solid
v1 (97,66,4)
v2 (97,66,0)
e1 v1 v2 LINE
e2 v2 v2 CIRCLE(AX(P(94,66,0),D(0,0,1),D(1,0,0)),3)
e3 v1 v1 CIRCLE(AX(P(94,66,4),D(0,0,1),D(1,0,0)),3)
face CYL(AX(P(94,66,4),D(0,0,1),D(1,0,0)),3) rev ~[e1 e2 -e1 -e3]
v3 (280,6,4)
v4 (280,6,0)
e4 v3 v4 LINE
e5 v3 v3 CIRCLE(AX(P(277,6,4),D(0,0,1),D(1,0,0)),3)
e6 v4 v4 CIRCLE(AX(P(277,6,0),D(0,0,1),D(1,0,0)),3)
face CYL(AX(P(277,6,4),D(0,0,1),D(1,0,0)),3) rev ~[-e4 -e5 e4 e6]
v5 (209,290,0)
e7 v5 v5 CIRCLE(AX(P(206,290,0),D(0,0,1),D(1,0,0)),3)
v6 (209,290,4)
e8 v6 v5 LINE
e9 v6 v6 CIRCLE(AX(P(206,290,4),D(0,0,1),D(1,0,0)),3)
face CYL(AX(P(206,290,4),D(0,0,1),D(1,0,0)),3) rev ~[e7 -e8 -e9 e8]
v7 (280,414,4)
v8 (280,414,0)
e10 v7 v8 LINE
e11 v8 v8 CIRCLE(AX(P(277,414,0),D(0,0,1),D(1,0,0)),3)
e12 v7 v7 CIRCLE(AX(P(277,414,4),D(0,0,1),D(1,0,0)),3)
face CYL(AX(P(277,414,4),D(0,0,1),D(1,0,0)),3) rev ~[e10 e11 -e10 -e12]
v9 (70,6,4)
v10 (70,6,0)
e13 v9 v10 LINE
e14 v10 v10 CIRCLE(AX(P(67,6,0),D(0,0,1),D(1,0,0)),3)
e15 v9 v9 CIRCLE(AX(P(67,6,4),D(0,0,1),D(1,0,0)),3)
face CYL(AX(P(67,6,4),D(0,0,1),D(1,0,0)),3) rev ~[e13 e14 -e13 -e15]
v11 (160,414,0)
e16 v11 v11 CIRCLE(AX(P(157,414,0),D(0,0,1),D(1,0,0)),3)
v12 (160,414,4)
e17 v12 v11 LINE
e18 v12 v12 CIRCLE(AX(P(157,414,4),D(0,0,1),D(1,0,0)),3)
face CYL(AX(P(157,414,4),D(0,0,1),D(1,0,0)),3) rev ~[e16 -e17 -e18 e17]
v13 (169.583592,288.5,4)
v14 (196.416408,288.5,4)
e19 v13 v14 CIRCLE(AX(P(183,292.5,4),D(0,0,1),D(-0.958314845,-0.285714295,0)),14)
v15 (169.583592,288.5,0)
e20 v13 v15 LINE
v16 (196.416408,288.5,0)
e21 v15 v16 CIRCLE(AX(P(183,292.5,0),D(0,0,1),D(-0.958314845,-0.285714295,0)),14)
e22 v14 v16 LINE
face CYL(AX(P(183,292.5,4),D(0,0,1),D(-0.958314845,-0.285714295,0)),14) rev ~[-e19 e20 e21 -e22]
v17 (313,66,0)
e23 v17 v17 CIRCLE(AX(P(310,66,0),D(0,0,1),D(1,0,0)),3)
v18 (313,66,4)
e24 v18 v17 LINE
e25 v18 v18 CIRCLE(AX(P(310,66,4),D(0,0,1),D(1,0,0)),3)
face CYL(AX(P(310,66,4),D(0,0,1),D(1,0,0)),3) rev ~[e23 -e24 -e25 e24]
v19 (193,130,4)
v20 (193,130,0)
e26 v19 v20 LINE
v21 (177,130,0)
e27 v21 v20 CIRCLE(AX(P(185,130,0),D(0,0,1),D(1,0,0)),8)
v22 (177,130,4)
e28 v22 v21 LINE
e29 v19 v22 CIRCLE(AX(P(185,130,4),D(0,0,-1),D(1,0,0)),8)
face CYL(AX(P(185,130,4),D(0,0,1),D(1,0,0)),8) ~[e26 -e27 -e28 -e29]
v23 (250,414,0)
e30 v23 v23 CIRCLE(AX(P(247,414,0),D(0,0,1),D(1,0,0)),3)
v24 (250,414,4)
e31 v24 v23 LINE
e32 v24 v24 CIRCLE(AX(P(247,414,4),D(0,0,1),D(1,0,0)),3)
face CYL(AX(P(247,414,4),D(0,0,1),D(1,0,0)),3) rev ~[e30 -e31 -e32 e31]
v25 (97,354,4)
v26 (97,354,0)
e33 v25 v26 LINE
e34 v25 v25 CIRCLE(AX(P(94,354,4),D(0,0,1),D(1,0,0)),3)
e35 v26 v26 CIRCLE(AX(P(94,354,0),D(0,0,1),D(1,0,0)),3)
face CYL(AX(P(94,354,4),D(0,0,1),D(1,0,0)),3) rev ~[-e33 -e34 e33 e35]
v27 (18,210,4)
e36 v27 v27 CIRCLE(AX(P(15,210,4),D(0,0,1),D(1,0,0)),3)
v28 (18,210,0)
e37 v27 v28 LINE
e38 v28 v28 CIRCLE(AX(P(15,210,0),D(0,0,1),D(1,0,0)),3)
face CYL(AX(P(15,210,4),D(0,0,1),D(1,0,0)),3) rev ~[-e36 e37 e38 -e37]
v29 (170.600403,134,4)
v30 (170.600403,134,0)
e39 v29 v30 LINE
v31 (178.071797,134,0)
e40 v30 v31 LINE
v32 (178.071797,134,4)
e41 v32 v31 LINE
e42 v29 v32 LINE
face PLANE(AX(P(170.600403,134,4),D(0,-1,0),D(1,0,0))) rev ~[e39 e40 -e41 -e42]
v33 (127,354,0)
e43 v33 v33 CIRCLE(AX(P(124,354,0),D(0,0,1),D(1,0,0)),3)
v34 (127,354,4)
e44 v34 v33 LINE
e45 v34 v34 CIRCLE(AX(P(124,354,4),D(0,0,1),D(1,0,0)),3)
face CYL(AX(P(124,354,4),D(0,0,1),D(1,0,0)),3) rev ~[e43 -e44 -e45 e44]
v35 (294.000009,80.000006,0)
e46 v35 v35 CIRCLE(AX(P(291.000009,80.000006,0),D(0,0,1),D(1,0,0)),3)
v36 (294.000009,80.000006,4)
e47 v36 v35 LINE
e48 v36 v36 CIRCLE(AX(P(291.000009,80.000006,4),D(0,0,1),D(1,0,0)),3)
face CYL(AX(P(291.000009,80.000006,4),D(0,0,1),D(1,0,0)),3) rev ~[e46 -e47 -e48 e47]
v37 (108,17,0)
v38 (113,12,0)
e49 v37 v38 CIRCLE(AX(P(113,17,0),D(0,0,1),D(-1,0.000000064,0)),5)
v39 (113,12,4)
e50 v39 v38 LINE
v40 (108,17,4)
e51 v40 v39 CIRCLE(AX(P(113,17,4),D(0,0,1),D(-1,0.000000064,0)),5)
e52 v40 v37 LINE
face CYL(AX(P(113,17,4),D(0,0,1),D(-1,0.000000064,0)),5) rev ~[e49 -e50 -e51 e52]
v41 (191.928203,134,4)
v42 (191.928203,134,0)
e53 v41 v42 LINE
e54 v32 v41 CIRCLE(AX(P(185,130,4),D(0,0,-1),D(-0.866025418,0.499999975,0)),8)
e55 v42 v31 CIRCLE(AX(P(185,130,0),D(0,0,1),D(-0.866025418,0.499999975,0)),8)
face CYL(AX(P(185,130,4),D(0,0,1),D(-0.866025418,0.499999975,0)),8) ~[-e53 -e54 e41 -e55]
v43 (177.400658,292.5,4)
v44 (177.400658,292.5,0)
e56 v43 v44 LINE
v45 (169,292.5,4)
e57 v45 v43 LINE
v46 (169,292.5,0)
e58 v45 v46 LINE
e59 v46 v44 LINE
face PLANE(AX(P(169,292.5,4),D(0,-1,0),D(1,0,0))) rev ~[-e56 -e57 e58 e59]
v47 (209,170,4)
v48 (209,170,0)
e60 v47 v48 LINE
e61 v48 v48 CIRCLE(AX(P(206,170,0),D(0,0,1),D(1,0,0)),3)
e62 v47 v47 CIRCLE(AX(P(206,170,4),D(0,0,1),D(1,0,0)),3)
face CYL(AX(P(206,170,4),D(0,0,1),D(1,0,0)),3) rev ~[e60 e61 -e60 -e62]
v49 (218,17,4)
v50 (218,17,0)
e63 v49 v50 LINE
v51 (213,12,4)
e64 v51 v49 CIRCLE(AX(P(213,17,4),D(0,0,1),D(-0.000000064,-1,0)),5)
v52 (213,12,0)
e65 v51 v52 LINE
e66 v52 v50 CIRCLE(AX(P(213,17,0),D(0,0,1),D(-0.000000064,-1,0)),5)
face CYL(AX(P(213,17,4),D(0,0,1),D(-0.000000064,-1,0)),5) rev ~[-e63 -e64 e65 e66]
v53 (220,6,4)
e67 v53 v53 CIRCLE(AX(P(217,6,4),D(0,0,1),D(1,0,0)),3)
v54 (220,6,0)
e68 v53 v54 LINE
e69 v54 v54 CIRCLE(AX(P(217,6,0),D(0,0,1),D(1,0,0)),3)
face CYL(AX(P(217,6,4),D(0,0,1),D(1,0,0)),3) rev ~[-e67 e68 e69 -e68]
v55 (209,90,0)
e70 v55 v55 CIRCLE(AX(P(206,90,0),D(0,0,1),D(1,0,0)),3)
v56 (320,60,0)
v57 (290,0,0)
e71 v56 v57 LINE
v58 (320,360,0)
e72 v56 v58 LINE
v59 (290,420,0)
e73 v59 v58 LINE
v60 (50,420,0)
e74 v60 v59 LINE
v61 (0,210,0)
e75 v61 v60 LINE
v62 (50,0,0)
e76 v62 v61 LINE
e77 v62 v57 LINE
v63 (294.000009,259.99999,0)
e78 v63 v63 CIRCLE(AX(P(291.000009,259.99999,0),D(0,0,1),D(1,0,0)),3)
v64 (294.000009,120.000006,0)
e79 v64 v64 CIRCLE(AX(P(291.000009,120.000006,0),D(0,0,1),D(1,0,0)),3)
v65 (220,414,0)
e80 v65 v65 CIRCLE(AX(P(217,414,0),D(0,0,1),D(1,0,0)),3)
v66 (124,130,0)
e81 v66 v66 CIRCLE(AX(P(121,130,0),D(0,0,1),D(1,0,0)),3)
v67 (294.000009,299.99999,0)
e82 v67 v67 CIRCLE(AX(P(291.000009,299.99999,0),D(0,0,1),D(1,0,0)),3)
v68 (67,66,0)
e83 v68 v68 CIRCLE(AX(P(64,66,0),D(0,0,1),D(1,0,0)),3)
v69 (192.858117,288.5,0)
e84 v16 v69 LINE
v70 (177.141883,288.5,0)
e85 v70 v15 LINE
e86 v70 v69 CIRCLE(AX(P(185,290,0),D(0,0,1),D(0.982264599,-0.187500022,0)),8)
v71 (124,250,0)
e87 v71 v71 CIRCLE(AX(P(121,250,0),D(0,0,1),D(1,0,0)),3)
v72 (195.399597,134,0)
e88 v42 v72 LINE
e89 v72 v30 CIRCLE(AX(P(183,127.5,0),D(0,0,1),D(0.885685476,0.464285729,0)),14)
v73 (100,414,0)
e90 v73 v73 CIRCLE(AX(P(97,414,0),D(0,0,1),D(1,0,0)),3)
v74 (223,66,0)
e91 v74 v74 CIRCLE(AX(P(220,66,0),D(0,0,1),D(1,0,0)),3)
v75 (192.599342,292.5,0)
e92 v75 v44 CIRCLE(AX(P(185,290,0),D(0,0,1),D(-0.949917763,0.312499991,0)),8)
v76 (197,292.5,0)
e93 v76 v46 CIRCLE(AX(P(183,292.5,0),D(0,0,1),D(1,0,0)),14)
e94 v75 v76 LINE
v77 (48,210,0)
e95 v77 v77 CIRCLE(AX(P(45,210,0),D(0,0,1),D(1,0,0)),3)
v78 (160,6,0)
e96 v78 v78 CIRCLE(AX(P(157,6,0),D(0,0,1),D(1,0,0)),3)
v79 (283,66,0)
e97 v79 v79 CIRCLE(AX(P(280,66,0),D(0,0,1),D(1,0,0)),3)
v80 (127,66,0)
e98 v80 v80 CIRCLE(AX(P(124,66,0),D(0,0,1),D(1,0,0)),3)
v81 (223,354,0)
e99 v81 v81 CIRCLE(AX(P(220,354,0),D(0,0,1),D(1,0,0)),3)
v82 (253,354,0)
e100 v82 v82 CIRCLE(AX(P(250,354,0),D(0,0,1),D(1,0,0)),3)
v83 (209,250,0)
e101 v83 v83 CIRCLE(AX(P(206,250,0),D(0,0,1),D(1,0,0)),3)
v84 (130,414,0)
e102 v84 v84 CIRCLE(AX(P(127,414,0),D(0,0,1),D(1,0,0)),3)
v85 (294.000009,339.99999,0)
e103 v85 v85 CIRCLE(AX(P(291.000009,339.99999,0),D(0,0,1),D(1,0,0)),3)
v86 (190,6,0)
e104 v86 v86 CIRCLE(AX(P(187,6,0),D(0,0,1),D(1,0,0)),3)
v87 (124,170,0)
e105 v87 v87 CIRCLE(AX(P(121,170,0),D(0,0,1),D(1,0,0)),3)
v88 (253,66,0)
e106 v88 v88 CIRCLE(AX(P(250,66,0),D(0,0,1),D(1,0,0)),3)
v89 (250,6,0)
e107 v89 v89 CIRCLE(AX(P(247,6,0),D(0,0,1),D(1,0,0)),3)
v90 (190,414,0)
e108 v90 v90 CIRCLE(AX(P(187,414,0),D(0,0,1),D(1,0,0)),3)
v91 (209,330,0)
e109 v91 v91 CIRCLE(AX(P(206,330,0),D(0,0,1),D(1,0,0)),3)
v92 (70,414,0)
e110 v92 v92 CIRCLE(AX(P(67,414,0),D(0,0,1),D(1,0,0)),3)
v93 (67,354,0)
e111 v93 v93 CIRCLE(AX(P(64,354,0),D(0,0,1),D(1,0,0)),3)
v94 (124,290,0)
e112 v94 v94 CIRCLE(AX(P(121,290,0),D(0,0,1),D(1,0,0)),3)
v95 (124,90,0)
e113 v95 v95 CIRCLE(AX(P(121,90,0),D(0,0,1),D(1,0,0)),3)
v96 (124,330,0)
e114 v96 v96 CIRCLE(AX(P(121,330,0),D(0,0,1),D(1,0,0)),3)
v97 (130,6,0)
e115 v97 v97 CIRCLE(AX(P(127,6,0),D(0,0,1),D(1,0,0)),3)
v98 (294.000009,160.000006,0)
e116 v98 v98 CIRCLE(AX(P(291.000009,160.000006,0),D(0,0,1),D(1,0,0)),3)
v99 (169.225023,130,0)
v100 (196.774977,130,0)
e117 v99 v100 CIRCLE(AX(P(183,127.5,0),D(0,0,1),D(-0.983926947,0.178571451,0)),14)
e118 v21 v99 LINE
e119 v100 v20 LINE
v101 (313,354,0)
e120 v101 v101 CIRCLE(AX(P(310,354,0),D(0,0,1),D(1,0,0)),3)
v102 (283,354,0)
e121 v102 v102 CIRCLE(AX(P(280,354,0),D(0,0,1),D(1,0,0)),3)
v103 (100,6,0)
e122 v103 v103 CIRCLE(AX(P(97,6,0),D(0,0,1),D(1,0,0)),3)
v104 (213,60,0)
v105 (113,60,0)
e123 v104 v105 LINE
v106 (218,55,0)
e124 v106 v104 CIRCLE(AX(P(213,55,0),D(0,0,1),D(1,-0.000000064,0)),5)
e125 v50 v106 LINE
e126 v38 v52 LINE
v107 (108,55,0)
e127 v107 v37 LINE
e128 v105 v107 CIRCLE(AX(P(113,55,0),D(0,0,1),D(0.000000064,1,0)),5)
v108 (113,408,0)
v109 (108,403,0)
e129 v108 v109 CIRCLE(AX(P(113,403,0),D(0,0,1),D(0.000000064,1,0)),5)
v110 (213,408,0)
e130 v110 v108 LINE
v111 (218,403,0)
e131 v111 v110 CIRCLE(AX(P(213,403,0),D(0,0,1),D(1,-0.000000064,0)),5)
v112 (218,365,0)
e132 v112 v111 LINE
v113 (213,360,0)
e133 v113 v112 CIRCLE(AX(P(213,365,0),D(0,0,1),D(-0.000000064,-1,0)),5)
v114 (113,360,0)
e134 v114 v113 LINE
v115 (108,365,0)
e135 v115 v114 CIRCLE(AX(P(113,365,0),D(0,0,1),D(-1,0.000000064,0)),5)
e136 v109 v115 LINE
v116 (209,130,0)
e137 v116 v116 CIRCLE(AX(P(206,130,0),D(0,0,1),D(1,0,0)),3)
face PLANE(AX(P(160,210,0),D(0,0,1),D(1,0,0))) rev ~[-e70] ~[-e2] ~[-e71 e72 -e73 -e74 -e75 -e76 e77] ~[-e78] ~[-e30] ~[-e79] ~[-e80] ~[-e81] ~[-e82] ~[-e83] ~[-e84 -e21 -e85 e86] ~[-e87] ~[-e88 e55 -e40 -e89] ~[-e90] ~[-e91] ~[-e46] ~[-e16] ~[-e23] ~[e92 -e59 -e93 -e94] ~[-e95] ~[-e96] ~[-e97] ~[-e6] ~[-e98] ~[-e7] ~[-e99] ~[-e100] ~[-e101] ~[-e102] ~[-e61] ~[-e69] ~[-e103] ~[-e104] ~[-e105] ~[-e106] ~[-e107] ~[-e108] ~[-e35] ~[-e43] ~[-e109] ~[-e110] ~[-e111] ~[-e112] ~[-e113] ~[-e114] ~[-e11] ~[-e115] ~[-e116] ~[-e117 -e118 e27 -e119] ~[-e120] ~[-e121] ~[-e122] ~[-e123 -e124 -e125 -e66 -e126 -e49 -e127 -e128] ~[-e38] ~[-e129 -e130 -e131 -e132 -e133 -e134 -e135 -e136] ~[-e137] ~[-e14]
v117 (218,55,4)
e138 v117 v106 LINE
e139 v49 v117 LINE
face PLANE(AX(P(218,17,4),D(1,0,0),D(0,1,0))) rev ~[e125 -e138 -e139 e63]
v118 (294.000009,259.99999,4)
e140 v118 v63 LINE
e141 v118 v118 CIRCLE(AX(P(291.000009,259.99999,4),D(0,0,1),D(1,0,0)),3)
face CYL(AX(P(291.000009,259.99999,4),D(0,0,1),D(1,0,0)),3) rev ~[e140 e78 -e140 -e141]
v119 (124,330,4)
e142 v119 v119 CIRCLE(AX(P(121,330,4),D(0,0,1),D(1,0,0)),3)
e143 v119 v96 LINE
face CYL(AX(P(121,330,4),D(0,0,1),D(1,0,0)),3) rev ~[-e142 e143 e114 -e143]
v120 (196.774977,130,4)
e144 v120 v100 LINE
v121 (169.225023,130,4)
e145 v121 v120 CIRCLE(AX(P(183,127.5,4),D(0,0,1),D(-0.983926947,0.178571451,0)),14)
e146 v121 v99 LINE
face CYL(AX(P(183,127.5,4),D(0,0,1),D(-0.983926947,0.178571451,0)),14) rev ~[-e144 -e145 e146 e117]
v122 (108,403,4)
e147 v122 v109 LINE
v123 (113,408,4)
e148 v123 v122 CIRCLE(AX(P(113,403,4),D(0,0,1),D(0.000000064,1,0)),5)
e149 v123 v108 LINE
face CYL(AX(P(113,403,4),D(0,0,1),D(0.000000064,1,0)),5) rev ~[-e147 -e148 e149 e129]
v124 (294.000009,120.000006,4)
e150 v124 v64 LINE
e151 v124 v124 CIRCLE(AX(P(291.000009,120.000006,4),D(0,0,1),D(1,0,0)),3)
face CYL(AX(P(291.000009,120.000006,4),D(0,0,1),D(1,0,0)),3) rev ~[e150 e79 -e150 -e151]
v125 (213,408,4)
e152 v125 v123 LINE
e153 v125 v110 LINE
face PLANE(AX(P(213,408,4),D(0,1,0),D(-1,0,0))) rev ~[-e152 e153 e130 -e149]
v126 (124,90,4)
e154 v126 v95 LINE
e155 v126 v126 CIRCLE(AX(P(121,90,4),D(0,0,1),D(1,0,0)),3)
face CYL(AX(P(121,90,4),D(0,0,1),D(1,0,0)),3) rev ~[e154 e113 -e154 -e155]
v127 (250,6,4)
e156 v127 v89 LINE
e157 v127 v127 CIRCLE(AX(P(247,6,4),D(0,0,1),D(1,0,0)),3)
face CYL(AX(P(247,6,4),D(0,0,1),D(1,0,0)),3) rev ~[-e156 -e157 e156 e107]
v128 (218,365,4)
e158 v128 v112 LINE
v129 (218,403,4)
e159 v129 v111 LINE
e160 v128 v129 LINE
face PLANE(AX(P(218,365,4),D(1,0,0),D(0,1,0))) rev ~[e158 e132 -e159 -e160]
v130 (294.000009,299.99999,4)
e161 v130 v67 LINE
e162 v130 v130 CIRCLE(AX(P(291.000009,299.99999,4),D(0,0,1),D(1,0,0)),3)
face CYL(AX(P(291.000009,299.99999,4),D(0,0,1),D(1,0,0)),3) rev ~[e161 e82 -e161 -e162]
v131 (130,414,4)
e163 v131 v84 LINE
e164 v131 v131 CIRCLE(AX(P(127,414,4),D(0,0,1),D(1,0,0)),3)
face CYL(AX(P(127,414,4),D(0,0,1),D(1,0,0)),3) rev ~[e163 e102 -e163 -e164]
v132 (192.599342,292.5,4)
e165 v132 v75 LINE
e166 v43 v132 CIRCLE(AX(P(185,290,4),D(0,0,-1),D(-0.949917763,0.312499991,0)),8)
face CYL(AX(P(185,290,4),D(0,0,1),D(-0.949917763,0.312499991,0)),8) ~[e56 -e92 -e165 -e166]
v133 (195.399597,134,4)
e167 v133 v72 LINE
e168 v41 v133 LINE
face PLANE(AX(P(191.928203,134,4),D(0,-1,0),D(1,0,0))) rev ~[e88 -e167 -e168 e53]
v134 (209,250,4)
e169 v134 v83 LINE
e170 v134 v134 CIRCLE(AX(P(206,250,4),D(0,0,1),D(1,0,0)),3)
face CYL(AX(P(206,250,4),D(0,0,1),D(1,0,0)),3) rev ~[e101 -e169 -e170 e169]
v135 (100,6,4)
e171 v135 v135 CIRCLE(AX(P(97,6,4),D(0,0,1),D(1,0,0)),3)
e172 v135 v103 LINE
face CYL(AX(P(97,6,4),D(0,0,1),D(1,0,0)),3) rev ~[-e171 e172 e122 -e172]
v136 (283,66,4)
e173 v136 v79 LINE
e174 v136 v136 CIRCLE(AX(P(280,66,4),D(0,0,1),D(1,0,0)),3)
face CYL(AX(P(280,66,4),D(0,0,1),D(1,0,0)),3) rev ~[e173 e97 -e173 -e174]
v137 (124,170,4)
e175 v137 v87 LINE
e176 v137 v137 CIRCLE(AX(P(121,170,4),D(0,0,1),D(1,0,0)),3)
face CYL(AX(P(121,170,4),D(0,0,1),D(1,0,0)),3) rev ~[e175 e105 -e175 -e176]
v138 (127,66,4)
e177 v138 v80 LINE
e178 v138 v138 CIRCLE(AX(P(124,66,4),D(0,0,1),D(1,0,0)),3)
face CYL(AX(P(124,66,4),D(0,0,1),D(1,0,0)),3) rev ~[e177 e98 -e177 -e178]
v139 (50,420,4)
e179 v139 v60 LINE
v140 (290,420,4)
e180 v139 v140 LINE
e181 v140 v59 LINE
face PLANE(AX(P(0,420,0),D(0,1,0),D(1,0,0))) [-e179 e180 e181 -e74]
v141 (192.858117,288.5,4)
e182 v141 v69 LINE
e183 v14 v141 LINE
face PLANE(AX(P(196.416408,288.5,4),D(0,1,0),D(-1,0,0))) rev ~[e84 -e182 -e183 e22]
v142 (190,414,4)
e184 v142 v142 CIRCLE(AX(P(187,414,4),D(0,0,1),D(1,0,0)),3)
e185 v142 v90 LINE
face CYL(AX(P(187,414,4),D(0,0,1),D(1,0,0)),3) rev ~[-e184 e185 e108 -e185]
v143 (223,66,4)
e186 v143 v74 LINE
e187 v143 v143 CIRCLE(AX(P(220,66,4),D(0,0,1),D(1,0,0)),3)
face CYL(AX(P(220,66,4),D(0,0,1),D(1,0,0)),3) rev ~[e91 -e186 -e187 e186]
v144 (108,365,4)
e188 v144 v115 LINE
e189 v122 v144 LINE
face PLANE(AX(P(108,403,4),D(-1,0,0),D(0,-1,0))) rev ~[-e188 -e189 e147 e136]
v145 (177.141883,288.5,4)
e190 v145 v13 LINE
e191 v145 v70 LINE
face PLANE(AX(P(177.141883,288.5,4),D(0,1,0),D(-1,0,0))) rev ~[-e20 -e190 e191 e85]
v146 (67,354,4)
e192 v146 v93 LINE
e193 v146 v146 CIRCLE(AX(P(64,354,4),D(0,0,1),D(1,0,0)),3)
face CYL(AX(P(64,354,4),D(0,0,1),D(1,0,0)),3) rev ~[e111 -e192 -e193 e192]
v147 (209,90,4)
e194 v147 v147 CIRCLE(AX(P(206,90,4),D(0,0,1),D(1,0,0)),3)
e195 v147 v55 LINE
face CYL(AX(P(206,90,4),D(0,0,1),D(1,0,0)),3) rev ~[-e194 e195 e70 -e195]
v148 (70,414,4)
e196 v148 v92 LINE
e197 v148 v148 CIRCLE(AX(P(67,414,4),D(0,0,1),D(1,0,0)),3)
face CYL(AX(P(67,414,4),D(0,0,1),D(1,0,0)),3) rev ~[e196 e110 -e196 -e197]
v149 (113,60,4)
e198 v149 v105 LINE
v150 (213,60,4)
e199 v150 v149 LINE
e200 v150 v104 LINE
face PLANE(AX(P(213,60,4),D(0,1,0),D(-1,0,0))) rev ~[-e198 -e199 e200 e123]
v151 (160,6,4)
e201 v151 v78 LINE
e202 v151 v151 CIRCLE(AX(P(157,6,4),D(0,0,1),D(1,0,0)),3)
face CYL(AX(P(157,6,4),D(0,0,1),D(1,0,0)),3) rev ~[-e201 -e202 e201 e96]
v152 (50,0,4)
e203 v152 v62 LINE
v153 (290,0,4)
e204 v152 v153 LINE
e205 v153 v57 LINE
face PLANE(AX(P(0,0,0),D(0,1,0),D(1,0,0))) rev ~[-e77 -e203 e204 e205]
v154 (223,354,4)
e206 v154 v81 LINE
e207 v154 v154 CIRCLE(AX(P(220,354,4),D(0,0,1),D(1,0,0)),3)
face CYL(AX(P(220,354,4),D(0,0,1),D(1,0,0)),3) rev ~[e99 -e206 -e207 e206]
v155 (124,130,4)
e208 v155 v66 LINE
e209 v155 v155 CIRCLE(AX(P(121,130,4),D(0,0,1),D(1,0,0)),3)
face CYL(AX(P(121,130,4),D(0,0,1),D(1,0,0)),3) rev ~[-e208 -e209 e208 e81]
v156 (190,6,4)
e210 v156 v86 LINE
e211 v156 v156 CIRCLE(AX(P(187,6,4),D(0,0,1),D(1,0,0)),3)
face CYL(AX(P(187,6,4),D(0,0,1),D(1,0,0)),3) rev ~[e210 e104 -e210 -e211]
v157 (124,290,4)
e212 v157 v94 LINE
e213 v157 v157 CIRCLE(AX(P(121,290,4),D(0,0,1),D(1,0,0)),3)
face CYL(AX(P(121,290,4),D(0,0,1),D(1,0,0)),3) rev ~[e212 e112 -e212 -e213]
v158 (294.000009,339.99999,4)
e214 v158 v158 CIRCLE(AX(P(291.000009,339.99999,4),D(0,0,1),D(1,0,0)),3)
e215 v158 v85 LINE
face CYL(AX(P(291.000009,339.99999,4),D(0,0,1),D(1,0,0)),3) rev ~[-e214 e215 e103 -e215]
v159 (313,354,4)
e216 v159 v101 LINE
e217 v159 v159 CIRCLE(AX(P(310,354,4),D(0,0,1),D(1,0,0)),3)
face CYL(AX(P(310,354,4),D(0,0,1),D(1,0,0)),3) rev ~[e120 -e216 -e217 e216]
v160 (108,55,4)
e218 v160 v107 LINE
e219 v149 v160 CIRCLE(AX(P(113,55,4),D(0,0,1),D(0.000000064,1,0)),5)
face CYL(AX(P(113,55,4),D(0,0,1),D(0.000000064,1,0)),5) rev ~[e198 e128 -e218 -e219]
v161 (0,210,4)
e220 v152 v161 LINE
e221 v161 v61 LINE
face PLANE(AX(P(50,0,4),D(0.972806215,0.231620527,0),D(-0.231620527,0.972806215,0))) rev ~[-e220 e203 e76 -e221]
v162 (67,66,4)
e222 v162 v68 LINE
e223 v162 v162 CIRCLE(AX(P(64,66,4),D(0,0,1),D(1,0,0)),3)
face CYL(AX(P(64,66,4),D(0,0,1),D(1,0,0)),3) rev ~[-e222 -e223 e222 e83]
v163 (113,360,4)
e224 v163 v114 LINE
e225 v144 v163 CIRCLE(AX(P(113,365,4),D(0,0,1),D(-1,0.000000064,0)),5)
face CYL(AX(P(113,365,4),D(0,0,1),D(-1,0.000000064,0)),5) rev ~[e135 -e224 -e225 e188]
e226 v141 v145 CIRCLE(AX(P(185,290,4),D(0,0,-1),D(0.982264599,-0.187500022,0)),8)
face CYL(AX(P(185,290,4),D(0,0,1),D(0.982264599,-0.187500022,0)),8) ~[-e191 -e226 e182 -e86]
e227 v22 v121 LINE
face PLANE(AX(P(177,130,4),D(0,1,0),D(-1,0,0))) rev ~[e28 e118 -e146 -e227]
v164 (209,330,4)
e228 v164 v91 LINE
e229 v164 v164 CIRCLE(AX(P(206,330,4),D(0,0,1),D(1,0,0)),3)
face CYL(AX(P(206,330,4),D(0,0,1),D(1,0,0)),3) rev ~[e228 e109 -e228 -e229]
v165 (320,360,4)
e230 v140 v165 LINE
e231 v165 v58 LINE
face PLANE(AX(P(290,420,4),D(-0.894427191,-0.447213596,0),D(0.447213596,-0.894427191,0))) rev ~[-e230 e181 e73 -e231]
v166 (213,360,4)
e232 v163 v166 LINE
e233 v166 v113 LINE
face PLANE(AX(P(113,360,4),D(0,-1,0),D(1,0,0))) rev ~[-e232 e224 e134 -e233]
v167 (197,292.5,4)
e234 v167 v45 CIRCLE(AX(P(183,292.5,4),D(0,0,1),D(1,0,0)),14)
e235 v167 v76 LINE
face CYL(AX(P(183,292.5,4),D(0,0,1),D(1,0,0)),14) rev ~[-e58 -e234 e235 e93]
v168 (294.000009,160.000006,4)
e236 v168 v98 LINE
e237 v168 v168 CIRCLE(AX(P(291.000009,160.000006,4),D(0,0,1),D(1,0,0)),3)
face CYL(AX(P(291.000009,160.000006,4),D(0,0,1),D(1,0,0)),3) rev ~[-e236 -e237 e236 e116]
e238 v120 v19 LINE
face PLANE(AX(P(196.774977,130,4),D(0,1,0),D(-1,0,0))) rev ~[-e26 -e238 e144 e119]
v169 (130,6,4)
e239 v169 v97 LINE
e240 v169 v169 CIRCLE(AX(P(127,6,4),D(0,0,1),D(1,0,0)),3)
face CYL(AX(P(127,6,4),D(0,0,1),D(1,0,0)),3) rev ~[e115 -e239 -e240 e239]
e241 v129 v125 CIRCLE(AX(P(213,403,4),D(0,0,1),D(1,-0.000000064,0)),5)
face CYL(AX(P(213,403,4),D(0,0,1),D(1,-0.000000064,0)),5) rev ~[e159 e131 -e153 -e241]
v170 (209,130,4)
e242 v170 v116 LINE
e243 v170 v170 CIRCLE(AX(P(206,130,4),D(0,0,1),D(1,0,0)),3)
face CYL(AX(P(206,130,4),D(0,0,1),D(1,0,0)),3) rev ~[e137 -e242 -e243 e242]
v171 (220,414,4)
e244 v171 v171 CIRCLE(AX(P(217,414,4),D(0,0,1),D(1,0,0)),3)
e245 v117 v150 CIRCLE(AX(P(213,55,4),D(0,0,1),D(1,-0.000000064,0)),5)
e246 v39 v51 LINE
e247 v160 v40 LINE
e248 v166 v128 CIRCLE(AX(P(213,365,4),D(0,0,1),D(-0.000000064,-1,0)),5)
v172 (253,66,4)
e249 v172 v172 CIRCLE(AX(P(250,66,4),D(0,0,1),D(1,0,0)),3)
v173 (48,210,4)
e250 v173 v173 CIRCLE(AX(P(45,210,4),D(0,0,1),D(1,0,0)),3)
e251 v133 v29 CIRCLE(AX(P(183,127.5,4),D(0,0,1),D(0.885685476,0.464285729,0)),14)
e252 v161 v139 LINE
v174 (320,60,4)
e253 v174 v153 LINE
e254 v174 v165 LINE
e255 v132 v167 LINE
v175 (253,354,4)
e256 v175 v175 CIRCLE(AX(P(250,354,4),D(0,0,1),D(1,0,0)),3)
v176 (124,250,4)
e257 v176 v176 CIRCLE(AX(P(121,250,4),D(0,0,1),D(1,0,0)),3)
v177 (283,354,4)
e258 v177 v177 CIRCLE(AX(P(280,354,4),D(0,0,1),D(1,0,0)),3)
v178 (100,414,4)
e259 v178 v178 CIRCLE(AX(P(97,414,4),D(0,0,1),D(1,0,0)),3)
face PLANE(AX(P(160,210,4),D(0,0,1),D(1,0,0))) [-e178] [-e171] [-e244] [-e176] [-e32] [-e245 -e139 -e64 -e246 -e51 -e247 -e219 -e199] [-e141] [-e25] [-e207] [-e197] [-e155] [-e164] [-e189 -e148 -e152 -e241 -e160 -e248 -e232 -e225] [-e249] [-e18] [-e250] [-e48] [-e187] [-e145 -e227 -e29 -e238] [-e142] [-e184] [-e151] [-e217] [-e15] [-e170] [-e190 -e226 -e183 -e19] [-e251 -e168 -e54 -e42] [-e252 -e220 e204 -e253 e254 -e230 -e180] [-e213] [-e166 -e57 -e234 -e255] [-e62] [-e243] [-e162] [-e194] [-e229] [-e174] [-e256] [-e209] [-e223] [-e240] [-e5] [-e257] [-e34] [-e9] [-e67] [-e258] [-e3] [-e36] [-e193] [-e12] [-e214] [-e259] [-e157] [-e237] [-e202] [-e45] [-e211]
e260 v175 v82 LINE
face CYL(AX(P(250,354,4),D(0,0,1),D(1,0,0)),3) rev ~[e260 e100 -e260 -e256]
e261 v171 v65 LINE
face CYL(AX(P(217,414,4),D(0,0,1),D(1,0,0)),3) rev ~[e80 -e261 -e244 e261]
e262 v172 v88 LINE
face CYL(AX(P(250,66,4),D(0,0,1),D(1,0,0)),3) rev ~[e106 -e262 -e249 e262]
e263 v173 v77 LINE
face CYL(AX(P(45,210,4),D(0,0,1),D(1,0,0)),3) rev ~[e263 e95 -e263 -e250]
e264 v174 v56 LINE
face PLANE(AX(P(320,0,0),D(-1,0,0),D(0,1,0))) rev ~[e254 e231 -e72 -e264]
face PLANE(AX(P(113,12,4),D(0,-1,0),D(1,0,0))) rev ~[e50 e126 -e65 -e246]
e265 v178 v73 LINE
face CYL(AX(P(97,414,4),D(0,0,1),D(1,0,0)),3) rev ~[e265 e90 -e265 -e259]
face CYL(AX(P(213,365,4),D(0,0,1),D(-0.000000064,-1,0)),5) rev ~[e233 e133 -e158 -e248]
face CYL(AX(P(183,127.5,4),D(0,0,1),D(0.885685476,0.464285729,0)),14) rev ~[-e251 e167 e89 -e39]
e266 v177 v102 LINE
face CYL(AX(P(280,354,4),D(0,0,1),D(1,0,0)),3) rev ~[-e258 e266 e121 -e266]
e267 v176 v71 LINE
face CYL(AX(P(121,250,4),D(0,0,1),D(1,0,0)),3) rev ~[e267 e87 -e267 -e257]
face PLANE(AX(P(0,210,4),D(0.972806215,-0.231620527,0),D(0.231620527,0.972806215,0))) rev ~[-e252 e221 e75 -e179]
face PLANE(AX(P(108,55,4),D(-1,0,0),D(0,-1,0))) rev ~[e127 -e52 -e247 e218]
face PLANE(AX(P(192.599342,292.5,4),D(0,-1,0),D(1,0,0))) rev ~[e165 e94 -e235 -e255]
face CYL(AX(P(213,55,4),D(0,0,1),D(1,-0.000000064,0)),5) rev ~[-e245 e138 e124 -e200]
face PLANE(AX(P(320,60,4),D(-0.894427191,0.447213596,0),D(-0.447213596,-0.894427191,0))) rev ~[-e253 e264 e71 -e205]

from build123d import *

# Parameters (mm, degrees)
F0_W      = 320
F0_H      = 420
F1_DEPTH  = 4
F3_DEPTH  = 4
F4_R      = 3
F5_DEPTH  = 25
F6_R      = 3
F7_DEPTH  = 25
F8_R      = 3
F9_DEPTH  = 25
F11_DEPTH = 25


with BuildPart() as f1:
    # F0 (on Top) → F1 (new body)
    with BuildSketch(Plane.XY):
        with Locations((160, 210)):
            Rectangle(F0_W, F0_H)
    extrude(amount=F1_DEPTH)

    # F2 (on face) → F3 (cut, through all)
    with BuildSketch(Plane.XY.offset(4)):
        Polygon((320, 420), (290, 420), (320, 360), align=None)
        Polygon((320, 60), (290, 0), (320, 0), align=None)
        with BuildLine():
            Line((113, 360), (213, 360))
            ThreePointArc((213, 360), (216.535534, 361.464466), (218, 365))
            Line((218, 365), (218, 403))
            ThreePointArc((218, 403), (216.535534, 406.535534), (213, 408))
            Line((213, 408), (113, 408))
            ThreePointArc((113, 408), (109.464466, 406.535534), (108, 403))
            Line((108, 403), (108, 365))
            ThreePointArc((108, 365), (109.464466, 361.464466), (113, 360))
        make_face()
        with BuildLine():
            Line((113, 12), (213, 12))
            ThreePointArc((213, 12), (216.535534, 13.464466), (218, 17))
            Line((218, 17), (218, 55))
            ThreePointArc((218, 55), (216.535534, 58.535534), (213, 60))
            Line((213, 60), (113, 60))
            ThreePointArc((113, 60), (109.464466, 58.535534), (108, 55))
            Line((108, 55), (108, 17))
            ThreePointArc((108, 17), (109.464466, 13.464466), (113, 12))
        make_face()
        Polygon((0, 420), (0, 210), (50, 420), align=None)
        Polygon((50, 0), (0, 210), (0, 0), align=None)
    extrude(amount=-F3_DEPTH, mode=Mode.SUBTRACT)

    # F4 (on face) → F5 (cut)
    with BuildSketch(Plane.XY.offset(4)):
        with Locations((67, 6)):
            Circle(F4_R)
        with Locations((97, 6)):
            Circle(F4_R)
        with Locations((127, 6)):
            Circle(F4_R)
        with Locations((157, 6)):
            Circle(F4_R)
        with Locations((187, 6)):
            Circle(F4_R)
        with Locations((217, 6)):
            Circle(F4_R)
        with Locations((247, 6)):
            Circle(F4_R)
        with Locations((277, 6)):
            Circle(F4_R)
        with Locations((64, 66)):
            Circle(F4_R)
        with Locations((94, 66)):
            Circle(F4_R)
        with Locations((124, 66)):
            Circle(F4_R)
        with Locations((220, 66)):
            Circle(F4_R)
        with Locations((250, 66)):
            Circle(F4_R)
        with Locations((280, 66)):
            Circle(F4_R)
        with Locations((310, 66)):
            Circle(F4_R)
        with Locations((67, 414)):
            Circle(F4_R)
        with Locations((64, 354)):
            Circle(F4_R)
        with Locations((97, 414)):
            Circle(F4_R)
        with Locations((310, 354)):
            Circle(F4_R)
        with Locations((277, 414)):
            Circle(F4_R)
        with Locations((94, 354)):
            Circle(F4_R)
        with Locations((220, 354)):
            Circle(F4_R)
        with Locations((280, 354)):
            Circle(F4_R)
        with Locations((124, 354)):
            Circle(F4_R)
        with Locations((127, 414)):
            Circle(F4_R)
        with Locations((250, 354)):
            Circle(F4_R)
        with Locations((157, 414)):
            Circle(F4_R)
        with Locations((187, 414)):
            Circle(F4_R)
        with Locations((217, 414)):
            Circle(F4_R)
        with Locations((247, 414)):
            Circle(F4_R)
    extrude(amount=-F5_DEPTH, mode=Mode.SUBTRACT)

    # F6 (on face) → F7 (cut)
    with BuildSketch(Plane.XY.offset(4)):
        with Locations((121, 90)):
            Circle(F6_R)
        with Locations((121, 130)):
            Circle(F6_R)
        with Locations((121, 170)):
            Circle(F6_R)
        with Locations((206, 90)):
            Circle(F6_R)
        with Locations((206, 130)):
            Circle(F6_R)
        with Locations((206, 170)):
            Circle(F6_R)
        with Locations((291.000009, 80.000006)):
            Circle(F6_R)
        with Locations((291.000009, 120.000006)):
            Circle(F6_R)
        with Locations((291.000009, 160.000006)):
            Circle(F6_R)
        with Locations((121, 330)):
            Circle(F6_R)
        with Locations((121, 290)):
            Circle(F6_R)
        with Locations((206, 330)):
            Circle(F6_R)
        with Locations((206, 250)):
            Circle(F6_R)
        with Locations((291.000009, 339.99999)):
            Circle(F6_R)
        with Locations((121, 250)):
            Circle(F6_R)
        with Locations((206, 290)):
            Circle(F6_R)
        with Locations((291.000009, 299.99999)):
            Circle(F6_R)
        with Locations((291.000009, 259.99999)):
            Circle(F6_R)
    extrude(amount=-F7_DEPTH, mode=Mode.SUBTRACT)

    # F8 (on face) → F9 (cut)
    with BuildSketch(Plane.XY.offset(4)):
        with Locations((15, 210)):
            Circle(F8_R)
        with Locations((45, 210)):
            Circle(F8_R)
    extrude(amount=-F9_DEPTH, mode=Mode.SUBTRACT)

    # F10 (on face) → F11 (cut)
    with BuildSketch(Plane.XY.offset(4)):
        with BuildLine():
            ThreePointArc((192.858117, 288.5), (185, 282), (177.141883, 288.5))
            Line((177.141883, 288.5), (169.583592, 288.5))
            ThreePointArc((169.583592, 288.5), (183, 278.5), (196.416408, 288.5))
            Line((196.416408, 288.5), (192.858117, 288.5))
        make_face()
        with BuildLine():
            ThreePointArc((193, 130), (185, 122), (177, 130))
            Line((177, 130), (169.225023, 130))
            ThreePointArc((169.225023, 130), (183, 113.5), (196.774977, 130))
            Line((196.774977, 130), (193, 130))
        make_face()
        with BuildLine():
            ThreePointArc((195.399597, 134), (183, 141.5), (170.600403, 134))
            Line((170.600403, 134), (178.071797, 134))
            ThreePointArc((178.071797, 134), (185, 138), (191.928203, 134))
            Line((191.928203, 134), (195.399597, 134))
        make_face()
        with BuildLine():
            ThreePointArc((197, 292.5), (183, 306.5), (169, 292.5))
            Line((169, 292.5), (177.400658, 292.5))
            ThreePointArc((177.400658, 292.5), (185, 298), (192.599342, 292.5))
            Line((192.599342, 292.5), (197, 292.5))
        make_face()
    extrude(amount=-F11_DEPTH, mode=Mode.SUBTRACT)


solid = f1.part
